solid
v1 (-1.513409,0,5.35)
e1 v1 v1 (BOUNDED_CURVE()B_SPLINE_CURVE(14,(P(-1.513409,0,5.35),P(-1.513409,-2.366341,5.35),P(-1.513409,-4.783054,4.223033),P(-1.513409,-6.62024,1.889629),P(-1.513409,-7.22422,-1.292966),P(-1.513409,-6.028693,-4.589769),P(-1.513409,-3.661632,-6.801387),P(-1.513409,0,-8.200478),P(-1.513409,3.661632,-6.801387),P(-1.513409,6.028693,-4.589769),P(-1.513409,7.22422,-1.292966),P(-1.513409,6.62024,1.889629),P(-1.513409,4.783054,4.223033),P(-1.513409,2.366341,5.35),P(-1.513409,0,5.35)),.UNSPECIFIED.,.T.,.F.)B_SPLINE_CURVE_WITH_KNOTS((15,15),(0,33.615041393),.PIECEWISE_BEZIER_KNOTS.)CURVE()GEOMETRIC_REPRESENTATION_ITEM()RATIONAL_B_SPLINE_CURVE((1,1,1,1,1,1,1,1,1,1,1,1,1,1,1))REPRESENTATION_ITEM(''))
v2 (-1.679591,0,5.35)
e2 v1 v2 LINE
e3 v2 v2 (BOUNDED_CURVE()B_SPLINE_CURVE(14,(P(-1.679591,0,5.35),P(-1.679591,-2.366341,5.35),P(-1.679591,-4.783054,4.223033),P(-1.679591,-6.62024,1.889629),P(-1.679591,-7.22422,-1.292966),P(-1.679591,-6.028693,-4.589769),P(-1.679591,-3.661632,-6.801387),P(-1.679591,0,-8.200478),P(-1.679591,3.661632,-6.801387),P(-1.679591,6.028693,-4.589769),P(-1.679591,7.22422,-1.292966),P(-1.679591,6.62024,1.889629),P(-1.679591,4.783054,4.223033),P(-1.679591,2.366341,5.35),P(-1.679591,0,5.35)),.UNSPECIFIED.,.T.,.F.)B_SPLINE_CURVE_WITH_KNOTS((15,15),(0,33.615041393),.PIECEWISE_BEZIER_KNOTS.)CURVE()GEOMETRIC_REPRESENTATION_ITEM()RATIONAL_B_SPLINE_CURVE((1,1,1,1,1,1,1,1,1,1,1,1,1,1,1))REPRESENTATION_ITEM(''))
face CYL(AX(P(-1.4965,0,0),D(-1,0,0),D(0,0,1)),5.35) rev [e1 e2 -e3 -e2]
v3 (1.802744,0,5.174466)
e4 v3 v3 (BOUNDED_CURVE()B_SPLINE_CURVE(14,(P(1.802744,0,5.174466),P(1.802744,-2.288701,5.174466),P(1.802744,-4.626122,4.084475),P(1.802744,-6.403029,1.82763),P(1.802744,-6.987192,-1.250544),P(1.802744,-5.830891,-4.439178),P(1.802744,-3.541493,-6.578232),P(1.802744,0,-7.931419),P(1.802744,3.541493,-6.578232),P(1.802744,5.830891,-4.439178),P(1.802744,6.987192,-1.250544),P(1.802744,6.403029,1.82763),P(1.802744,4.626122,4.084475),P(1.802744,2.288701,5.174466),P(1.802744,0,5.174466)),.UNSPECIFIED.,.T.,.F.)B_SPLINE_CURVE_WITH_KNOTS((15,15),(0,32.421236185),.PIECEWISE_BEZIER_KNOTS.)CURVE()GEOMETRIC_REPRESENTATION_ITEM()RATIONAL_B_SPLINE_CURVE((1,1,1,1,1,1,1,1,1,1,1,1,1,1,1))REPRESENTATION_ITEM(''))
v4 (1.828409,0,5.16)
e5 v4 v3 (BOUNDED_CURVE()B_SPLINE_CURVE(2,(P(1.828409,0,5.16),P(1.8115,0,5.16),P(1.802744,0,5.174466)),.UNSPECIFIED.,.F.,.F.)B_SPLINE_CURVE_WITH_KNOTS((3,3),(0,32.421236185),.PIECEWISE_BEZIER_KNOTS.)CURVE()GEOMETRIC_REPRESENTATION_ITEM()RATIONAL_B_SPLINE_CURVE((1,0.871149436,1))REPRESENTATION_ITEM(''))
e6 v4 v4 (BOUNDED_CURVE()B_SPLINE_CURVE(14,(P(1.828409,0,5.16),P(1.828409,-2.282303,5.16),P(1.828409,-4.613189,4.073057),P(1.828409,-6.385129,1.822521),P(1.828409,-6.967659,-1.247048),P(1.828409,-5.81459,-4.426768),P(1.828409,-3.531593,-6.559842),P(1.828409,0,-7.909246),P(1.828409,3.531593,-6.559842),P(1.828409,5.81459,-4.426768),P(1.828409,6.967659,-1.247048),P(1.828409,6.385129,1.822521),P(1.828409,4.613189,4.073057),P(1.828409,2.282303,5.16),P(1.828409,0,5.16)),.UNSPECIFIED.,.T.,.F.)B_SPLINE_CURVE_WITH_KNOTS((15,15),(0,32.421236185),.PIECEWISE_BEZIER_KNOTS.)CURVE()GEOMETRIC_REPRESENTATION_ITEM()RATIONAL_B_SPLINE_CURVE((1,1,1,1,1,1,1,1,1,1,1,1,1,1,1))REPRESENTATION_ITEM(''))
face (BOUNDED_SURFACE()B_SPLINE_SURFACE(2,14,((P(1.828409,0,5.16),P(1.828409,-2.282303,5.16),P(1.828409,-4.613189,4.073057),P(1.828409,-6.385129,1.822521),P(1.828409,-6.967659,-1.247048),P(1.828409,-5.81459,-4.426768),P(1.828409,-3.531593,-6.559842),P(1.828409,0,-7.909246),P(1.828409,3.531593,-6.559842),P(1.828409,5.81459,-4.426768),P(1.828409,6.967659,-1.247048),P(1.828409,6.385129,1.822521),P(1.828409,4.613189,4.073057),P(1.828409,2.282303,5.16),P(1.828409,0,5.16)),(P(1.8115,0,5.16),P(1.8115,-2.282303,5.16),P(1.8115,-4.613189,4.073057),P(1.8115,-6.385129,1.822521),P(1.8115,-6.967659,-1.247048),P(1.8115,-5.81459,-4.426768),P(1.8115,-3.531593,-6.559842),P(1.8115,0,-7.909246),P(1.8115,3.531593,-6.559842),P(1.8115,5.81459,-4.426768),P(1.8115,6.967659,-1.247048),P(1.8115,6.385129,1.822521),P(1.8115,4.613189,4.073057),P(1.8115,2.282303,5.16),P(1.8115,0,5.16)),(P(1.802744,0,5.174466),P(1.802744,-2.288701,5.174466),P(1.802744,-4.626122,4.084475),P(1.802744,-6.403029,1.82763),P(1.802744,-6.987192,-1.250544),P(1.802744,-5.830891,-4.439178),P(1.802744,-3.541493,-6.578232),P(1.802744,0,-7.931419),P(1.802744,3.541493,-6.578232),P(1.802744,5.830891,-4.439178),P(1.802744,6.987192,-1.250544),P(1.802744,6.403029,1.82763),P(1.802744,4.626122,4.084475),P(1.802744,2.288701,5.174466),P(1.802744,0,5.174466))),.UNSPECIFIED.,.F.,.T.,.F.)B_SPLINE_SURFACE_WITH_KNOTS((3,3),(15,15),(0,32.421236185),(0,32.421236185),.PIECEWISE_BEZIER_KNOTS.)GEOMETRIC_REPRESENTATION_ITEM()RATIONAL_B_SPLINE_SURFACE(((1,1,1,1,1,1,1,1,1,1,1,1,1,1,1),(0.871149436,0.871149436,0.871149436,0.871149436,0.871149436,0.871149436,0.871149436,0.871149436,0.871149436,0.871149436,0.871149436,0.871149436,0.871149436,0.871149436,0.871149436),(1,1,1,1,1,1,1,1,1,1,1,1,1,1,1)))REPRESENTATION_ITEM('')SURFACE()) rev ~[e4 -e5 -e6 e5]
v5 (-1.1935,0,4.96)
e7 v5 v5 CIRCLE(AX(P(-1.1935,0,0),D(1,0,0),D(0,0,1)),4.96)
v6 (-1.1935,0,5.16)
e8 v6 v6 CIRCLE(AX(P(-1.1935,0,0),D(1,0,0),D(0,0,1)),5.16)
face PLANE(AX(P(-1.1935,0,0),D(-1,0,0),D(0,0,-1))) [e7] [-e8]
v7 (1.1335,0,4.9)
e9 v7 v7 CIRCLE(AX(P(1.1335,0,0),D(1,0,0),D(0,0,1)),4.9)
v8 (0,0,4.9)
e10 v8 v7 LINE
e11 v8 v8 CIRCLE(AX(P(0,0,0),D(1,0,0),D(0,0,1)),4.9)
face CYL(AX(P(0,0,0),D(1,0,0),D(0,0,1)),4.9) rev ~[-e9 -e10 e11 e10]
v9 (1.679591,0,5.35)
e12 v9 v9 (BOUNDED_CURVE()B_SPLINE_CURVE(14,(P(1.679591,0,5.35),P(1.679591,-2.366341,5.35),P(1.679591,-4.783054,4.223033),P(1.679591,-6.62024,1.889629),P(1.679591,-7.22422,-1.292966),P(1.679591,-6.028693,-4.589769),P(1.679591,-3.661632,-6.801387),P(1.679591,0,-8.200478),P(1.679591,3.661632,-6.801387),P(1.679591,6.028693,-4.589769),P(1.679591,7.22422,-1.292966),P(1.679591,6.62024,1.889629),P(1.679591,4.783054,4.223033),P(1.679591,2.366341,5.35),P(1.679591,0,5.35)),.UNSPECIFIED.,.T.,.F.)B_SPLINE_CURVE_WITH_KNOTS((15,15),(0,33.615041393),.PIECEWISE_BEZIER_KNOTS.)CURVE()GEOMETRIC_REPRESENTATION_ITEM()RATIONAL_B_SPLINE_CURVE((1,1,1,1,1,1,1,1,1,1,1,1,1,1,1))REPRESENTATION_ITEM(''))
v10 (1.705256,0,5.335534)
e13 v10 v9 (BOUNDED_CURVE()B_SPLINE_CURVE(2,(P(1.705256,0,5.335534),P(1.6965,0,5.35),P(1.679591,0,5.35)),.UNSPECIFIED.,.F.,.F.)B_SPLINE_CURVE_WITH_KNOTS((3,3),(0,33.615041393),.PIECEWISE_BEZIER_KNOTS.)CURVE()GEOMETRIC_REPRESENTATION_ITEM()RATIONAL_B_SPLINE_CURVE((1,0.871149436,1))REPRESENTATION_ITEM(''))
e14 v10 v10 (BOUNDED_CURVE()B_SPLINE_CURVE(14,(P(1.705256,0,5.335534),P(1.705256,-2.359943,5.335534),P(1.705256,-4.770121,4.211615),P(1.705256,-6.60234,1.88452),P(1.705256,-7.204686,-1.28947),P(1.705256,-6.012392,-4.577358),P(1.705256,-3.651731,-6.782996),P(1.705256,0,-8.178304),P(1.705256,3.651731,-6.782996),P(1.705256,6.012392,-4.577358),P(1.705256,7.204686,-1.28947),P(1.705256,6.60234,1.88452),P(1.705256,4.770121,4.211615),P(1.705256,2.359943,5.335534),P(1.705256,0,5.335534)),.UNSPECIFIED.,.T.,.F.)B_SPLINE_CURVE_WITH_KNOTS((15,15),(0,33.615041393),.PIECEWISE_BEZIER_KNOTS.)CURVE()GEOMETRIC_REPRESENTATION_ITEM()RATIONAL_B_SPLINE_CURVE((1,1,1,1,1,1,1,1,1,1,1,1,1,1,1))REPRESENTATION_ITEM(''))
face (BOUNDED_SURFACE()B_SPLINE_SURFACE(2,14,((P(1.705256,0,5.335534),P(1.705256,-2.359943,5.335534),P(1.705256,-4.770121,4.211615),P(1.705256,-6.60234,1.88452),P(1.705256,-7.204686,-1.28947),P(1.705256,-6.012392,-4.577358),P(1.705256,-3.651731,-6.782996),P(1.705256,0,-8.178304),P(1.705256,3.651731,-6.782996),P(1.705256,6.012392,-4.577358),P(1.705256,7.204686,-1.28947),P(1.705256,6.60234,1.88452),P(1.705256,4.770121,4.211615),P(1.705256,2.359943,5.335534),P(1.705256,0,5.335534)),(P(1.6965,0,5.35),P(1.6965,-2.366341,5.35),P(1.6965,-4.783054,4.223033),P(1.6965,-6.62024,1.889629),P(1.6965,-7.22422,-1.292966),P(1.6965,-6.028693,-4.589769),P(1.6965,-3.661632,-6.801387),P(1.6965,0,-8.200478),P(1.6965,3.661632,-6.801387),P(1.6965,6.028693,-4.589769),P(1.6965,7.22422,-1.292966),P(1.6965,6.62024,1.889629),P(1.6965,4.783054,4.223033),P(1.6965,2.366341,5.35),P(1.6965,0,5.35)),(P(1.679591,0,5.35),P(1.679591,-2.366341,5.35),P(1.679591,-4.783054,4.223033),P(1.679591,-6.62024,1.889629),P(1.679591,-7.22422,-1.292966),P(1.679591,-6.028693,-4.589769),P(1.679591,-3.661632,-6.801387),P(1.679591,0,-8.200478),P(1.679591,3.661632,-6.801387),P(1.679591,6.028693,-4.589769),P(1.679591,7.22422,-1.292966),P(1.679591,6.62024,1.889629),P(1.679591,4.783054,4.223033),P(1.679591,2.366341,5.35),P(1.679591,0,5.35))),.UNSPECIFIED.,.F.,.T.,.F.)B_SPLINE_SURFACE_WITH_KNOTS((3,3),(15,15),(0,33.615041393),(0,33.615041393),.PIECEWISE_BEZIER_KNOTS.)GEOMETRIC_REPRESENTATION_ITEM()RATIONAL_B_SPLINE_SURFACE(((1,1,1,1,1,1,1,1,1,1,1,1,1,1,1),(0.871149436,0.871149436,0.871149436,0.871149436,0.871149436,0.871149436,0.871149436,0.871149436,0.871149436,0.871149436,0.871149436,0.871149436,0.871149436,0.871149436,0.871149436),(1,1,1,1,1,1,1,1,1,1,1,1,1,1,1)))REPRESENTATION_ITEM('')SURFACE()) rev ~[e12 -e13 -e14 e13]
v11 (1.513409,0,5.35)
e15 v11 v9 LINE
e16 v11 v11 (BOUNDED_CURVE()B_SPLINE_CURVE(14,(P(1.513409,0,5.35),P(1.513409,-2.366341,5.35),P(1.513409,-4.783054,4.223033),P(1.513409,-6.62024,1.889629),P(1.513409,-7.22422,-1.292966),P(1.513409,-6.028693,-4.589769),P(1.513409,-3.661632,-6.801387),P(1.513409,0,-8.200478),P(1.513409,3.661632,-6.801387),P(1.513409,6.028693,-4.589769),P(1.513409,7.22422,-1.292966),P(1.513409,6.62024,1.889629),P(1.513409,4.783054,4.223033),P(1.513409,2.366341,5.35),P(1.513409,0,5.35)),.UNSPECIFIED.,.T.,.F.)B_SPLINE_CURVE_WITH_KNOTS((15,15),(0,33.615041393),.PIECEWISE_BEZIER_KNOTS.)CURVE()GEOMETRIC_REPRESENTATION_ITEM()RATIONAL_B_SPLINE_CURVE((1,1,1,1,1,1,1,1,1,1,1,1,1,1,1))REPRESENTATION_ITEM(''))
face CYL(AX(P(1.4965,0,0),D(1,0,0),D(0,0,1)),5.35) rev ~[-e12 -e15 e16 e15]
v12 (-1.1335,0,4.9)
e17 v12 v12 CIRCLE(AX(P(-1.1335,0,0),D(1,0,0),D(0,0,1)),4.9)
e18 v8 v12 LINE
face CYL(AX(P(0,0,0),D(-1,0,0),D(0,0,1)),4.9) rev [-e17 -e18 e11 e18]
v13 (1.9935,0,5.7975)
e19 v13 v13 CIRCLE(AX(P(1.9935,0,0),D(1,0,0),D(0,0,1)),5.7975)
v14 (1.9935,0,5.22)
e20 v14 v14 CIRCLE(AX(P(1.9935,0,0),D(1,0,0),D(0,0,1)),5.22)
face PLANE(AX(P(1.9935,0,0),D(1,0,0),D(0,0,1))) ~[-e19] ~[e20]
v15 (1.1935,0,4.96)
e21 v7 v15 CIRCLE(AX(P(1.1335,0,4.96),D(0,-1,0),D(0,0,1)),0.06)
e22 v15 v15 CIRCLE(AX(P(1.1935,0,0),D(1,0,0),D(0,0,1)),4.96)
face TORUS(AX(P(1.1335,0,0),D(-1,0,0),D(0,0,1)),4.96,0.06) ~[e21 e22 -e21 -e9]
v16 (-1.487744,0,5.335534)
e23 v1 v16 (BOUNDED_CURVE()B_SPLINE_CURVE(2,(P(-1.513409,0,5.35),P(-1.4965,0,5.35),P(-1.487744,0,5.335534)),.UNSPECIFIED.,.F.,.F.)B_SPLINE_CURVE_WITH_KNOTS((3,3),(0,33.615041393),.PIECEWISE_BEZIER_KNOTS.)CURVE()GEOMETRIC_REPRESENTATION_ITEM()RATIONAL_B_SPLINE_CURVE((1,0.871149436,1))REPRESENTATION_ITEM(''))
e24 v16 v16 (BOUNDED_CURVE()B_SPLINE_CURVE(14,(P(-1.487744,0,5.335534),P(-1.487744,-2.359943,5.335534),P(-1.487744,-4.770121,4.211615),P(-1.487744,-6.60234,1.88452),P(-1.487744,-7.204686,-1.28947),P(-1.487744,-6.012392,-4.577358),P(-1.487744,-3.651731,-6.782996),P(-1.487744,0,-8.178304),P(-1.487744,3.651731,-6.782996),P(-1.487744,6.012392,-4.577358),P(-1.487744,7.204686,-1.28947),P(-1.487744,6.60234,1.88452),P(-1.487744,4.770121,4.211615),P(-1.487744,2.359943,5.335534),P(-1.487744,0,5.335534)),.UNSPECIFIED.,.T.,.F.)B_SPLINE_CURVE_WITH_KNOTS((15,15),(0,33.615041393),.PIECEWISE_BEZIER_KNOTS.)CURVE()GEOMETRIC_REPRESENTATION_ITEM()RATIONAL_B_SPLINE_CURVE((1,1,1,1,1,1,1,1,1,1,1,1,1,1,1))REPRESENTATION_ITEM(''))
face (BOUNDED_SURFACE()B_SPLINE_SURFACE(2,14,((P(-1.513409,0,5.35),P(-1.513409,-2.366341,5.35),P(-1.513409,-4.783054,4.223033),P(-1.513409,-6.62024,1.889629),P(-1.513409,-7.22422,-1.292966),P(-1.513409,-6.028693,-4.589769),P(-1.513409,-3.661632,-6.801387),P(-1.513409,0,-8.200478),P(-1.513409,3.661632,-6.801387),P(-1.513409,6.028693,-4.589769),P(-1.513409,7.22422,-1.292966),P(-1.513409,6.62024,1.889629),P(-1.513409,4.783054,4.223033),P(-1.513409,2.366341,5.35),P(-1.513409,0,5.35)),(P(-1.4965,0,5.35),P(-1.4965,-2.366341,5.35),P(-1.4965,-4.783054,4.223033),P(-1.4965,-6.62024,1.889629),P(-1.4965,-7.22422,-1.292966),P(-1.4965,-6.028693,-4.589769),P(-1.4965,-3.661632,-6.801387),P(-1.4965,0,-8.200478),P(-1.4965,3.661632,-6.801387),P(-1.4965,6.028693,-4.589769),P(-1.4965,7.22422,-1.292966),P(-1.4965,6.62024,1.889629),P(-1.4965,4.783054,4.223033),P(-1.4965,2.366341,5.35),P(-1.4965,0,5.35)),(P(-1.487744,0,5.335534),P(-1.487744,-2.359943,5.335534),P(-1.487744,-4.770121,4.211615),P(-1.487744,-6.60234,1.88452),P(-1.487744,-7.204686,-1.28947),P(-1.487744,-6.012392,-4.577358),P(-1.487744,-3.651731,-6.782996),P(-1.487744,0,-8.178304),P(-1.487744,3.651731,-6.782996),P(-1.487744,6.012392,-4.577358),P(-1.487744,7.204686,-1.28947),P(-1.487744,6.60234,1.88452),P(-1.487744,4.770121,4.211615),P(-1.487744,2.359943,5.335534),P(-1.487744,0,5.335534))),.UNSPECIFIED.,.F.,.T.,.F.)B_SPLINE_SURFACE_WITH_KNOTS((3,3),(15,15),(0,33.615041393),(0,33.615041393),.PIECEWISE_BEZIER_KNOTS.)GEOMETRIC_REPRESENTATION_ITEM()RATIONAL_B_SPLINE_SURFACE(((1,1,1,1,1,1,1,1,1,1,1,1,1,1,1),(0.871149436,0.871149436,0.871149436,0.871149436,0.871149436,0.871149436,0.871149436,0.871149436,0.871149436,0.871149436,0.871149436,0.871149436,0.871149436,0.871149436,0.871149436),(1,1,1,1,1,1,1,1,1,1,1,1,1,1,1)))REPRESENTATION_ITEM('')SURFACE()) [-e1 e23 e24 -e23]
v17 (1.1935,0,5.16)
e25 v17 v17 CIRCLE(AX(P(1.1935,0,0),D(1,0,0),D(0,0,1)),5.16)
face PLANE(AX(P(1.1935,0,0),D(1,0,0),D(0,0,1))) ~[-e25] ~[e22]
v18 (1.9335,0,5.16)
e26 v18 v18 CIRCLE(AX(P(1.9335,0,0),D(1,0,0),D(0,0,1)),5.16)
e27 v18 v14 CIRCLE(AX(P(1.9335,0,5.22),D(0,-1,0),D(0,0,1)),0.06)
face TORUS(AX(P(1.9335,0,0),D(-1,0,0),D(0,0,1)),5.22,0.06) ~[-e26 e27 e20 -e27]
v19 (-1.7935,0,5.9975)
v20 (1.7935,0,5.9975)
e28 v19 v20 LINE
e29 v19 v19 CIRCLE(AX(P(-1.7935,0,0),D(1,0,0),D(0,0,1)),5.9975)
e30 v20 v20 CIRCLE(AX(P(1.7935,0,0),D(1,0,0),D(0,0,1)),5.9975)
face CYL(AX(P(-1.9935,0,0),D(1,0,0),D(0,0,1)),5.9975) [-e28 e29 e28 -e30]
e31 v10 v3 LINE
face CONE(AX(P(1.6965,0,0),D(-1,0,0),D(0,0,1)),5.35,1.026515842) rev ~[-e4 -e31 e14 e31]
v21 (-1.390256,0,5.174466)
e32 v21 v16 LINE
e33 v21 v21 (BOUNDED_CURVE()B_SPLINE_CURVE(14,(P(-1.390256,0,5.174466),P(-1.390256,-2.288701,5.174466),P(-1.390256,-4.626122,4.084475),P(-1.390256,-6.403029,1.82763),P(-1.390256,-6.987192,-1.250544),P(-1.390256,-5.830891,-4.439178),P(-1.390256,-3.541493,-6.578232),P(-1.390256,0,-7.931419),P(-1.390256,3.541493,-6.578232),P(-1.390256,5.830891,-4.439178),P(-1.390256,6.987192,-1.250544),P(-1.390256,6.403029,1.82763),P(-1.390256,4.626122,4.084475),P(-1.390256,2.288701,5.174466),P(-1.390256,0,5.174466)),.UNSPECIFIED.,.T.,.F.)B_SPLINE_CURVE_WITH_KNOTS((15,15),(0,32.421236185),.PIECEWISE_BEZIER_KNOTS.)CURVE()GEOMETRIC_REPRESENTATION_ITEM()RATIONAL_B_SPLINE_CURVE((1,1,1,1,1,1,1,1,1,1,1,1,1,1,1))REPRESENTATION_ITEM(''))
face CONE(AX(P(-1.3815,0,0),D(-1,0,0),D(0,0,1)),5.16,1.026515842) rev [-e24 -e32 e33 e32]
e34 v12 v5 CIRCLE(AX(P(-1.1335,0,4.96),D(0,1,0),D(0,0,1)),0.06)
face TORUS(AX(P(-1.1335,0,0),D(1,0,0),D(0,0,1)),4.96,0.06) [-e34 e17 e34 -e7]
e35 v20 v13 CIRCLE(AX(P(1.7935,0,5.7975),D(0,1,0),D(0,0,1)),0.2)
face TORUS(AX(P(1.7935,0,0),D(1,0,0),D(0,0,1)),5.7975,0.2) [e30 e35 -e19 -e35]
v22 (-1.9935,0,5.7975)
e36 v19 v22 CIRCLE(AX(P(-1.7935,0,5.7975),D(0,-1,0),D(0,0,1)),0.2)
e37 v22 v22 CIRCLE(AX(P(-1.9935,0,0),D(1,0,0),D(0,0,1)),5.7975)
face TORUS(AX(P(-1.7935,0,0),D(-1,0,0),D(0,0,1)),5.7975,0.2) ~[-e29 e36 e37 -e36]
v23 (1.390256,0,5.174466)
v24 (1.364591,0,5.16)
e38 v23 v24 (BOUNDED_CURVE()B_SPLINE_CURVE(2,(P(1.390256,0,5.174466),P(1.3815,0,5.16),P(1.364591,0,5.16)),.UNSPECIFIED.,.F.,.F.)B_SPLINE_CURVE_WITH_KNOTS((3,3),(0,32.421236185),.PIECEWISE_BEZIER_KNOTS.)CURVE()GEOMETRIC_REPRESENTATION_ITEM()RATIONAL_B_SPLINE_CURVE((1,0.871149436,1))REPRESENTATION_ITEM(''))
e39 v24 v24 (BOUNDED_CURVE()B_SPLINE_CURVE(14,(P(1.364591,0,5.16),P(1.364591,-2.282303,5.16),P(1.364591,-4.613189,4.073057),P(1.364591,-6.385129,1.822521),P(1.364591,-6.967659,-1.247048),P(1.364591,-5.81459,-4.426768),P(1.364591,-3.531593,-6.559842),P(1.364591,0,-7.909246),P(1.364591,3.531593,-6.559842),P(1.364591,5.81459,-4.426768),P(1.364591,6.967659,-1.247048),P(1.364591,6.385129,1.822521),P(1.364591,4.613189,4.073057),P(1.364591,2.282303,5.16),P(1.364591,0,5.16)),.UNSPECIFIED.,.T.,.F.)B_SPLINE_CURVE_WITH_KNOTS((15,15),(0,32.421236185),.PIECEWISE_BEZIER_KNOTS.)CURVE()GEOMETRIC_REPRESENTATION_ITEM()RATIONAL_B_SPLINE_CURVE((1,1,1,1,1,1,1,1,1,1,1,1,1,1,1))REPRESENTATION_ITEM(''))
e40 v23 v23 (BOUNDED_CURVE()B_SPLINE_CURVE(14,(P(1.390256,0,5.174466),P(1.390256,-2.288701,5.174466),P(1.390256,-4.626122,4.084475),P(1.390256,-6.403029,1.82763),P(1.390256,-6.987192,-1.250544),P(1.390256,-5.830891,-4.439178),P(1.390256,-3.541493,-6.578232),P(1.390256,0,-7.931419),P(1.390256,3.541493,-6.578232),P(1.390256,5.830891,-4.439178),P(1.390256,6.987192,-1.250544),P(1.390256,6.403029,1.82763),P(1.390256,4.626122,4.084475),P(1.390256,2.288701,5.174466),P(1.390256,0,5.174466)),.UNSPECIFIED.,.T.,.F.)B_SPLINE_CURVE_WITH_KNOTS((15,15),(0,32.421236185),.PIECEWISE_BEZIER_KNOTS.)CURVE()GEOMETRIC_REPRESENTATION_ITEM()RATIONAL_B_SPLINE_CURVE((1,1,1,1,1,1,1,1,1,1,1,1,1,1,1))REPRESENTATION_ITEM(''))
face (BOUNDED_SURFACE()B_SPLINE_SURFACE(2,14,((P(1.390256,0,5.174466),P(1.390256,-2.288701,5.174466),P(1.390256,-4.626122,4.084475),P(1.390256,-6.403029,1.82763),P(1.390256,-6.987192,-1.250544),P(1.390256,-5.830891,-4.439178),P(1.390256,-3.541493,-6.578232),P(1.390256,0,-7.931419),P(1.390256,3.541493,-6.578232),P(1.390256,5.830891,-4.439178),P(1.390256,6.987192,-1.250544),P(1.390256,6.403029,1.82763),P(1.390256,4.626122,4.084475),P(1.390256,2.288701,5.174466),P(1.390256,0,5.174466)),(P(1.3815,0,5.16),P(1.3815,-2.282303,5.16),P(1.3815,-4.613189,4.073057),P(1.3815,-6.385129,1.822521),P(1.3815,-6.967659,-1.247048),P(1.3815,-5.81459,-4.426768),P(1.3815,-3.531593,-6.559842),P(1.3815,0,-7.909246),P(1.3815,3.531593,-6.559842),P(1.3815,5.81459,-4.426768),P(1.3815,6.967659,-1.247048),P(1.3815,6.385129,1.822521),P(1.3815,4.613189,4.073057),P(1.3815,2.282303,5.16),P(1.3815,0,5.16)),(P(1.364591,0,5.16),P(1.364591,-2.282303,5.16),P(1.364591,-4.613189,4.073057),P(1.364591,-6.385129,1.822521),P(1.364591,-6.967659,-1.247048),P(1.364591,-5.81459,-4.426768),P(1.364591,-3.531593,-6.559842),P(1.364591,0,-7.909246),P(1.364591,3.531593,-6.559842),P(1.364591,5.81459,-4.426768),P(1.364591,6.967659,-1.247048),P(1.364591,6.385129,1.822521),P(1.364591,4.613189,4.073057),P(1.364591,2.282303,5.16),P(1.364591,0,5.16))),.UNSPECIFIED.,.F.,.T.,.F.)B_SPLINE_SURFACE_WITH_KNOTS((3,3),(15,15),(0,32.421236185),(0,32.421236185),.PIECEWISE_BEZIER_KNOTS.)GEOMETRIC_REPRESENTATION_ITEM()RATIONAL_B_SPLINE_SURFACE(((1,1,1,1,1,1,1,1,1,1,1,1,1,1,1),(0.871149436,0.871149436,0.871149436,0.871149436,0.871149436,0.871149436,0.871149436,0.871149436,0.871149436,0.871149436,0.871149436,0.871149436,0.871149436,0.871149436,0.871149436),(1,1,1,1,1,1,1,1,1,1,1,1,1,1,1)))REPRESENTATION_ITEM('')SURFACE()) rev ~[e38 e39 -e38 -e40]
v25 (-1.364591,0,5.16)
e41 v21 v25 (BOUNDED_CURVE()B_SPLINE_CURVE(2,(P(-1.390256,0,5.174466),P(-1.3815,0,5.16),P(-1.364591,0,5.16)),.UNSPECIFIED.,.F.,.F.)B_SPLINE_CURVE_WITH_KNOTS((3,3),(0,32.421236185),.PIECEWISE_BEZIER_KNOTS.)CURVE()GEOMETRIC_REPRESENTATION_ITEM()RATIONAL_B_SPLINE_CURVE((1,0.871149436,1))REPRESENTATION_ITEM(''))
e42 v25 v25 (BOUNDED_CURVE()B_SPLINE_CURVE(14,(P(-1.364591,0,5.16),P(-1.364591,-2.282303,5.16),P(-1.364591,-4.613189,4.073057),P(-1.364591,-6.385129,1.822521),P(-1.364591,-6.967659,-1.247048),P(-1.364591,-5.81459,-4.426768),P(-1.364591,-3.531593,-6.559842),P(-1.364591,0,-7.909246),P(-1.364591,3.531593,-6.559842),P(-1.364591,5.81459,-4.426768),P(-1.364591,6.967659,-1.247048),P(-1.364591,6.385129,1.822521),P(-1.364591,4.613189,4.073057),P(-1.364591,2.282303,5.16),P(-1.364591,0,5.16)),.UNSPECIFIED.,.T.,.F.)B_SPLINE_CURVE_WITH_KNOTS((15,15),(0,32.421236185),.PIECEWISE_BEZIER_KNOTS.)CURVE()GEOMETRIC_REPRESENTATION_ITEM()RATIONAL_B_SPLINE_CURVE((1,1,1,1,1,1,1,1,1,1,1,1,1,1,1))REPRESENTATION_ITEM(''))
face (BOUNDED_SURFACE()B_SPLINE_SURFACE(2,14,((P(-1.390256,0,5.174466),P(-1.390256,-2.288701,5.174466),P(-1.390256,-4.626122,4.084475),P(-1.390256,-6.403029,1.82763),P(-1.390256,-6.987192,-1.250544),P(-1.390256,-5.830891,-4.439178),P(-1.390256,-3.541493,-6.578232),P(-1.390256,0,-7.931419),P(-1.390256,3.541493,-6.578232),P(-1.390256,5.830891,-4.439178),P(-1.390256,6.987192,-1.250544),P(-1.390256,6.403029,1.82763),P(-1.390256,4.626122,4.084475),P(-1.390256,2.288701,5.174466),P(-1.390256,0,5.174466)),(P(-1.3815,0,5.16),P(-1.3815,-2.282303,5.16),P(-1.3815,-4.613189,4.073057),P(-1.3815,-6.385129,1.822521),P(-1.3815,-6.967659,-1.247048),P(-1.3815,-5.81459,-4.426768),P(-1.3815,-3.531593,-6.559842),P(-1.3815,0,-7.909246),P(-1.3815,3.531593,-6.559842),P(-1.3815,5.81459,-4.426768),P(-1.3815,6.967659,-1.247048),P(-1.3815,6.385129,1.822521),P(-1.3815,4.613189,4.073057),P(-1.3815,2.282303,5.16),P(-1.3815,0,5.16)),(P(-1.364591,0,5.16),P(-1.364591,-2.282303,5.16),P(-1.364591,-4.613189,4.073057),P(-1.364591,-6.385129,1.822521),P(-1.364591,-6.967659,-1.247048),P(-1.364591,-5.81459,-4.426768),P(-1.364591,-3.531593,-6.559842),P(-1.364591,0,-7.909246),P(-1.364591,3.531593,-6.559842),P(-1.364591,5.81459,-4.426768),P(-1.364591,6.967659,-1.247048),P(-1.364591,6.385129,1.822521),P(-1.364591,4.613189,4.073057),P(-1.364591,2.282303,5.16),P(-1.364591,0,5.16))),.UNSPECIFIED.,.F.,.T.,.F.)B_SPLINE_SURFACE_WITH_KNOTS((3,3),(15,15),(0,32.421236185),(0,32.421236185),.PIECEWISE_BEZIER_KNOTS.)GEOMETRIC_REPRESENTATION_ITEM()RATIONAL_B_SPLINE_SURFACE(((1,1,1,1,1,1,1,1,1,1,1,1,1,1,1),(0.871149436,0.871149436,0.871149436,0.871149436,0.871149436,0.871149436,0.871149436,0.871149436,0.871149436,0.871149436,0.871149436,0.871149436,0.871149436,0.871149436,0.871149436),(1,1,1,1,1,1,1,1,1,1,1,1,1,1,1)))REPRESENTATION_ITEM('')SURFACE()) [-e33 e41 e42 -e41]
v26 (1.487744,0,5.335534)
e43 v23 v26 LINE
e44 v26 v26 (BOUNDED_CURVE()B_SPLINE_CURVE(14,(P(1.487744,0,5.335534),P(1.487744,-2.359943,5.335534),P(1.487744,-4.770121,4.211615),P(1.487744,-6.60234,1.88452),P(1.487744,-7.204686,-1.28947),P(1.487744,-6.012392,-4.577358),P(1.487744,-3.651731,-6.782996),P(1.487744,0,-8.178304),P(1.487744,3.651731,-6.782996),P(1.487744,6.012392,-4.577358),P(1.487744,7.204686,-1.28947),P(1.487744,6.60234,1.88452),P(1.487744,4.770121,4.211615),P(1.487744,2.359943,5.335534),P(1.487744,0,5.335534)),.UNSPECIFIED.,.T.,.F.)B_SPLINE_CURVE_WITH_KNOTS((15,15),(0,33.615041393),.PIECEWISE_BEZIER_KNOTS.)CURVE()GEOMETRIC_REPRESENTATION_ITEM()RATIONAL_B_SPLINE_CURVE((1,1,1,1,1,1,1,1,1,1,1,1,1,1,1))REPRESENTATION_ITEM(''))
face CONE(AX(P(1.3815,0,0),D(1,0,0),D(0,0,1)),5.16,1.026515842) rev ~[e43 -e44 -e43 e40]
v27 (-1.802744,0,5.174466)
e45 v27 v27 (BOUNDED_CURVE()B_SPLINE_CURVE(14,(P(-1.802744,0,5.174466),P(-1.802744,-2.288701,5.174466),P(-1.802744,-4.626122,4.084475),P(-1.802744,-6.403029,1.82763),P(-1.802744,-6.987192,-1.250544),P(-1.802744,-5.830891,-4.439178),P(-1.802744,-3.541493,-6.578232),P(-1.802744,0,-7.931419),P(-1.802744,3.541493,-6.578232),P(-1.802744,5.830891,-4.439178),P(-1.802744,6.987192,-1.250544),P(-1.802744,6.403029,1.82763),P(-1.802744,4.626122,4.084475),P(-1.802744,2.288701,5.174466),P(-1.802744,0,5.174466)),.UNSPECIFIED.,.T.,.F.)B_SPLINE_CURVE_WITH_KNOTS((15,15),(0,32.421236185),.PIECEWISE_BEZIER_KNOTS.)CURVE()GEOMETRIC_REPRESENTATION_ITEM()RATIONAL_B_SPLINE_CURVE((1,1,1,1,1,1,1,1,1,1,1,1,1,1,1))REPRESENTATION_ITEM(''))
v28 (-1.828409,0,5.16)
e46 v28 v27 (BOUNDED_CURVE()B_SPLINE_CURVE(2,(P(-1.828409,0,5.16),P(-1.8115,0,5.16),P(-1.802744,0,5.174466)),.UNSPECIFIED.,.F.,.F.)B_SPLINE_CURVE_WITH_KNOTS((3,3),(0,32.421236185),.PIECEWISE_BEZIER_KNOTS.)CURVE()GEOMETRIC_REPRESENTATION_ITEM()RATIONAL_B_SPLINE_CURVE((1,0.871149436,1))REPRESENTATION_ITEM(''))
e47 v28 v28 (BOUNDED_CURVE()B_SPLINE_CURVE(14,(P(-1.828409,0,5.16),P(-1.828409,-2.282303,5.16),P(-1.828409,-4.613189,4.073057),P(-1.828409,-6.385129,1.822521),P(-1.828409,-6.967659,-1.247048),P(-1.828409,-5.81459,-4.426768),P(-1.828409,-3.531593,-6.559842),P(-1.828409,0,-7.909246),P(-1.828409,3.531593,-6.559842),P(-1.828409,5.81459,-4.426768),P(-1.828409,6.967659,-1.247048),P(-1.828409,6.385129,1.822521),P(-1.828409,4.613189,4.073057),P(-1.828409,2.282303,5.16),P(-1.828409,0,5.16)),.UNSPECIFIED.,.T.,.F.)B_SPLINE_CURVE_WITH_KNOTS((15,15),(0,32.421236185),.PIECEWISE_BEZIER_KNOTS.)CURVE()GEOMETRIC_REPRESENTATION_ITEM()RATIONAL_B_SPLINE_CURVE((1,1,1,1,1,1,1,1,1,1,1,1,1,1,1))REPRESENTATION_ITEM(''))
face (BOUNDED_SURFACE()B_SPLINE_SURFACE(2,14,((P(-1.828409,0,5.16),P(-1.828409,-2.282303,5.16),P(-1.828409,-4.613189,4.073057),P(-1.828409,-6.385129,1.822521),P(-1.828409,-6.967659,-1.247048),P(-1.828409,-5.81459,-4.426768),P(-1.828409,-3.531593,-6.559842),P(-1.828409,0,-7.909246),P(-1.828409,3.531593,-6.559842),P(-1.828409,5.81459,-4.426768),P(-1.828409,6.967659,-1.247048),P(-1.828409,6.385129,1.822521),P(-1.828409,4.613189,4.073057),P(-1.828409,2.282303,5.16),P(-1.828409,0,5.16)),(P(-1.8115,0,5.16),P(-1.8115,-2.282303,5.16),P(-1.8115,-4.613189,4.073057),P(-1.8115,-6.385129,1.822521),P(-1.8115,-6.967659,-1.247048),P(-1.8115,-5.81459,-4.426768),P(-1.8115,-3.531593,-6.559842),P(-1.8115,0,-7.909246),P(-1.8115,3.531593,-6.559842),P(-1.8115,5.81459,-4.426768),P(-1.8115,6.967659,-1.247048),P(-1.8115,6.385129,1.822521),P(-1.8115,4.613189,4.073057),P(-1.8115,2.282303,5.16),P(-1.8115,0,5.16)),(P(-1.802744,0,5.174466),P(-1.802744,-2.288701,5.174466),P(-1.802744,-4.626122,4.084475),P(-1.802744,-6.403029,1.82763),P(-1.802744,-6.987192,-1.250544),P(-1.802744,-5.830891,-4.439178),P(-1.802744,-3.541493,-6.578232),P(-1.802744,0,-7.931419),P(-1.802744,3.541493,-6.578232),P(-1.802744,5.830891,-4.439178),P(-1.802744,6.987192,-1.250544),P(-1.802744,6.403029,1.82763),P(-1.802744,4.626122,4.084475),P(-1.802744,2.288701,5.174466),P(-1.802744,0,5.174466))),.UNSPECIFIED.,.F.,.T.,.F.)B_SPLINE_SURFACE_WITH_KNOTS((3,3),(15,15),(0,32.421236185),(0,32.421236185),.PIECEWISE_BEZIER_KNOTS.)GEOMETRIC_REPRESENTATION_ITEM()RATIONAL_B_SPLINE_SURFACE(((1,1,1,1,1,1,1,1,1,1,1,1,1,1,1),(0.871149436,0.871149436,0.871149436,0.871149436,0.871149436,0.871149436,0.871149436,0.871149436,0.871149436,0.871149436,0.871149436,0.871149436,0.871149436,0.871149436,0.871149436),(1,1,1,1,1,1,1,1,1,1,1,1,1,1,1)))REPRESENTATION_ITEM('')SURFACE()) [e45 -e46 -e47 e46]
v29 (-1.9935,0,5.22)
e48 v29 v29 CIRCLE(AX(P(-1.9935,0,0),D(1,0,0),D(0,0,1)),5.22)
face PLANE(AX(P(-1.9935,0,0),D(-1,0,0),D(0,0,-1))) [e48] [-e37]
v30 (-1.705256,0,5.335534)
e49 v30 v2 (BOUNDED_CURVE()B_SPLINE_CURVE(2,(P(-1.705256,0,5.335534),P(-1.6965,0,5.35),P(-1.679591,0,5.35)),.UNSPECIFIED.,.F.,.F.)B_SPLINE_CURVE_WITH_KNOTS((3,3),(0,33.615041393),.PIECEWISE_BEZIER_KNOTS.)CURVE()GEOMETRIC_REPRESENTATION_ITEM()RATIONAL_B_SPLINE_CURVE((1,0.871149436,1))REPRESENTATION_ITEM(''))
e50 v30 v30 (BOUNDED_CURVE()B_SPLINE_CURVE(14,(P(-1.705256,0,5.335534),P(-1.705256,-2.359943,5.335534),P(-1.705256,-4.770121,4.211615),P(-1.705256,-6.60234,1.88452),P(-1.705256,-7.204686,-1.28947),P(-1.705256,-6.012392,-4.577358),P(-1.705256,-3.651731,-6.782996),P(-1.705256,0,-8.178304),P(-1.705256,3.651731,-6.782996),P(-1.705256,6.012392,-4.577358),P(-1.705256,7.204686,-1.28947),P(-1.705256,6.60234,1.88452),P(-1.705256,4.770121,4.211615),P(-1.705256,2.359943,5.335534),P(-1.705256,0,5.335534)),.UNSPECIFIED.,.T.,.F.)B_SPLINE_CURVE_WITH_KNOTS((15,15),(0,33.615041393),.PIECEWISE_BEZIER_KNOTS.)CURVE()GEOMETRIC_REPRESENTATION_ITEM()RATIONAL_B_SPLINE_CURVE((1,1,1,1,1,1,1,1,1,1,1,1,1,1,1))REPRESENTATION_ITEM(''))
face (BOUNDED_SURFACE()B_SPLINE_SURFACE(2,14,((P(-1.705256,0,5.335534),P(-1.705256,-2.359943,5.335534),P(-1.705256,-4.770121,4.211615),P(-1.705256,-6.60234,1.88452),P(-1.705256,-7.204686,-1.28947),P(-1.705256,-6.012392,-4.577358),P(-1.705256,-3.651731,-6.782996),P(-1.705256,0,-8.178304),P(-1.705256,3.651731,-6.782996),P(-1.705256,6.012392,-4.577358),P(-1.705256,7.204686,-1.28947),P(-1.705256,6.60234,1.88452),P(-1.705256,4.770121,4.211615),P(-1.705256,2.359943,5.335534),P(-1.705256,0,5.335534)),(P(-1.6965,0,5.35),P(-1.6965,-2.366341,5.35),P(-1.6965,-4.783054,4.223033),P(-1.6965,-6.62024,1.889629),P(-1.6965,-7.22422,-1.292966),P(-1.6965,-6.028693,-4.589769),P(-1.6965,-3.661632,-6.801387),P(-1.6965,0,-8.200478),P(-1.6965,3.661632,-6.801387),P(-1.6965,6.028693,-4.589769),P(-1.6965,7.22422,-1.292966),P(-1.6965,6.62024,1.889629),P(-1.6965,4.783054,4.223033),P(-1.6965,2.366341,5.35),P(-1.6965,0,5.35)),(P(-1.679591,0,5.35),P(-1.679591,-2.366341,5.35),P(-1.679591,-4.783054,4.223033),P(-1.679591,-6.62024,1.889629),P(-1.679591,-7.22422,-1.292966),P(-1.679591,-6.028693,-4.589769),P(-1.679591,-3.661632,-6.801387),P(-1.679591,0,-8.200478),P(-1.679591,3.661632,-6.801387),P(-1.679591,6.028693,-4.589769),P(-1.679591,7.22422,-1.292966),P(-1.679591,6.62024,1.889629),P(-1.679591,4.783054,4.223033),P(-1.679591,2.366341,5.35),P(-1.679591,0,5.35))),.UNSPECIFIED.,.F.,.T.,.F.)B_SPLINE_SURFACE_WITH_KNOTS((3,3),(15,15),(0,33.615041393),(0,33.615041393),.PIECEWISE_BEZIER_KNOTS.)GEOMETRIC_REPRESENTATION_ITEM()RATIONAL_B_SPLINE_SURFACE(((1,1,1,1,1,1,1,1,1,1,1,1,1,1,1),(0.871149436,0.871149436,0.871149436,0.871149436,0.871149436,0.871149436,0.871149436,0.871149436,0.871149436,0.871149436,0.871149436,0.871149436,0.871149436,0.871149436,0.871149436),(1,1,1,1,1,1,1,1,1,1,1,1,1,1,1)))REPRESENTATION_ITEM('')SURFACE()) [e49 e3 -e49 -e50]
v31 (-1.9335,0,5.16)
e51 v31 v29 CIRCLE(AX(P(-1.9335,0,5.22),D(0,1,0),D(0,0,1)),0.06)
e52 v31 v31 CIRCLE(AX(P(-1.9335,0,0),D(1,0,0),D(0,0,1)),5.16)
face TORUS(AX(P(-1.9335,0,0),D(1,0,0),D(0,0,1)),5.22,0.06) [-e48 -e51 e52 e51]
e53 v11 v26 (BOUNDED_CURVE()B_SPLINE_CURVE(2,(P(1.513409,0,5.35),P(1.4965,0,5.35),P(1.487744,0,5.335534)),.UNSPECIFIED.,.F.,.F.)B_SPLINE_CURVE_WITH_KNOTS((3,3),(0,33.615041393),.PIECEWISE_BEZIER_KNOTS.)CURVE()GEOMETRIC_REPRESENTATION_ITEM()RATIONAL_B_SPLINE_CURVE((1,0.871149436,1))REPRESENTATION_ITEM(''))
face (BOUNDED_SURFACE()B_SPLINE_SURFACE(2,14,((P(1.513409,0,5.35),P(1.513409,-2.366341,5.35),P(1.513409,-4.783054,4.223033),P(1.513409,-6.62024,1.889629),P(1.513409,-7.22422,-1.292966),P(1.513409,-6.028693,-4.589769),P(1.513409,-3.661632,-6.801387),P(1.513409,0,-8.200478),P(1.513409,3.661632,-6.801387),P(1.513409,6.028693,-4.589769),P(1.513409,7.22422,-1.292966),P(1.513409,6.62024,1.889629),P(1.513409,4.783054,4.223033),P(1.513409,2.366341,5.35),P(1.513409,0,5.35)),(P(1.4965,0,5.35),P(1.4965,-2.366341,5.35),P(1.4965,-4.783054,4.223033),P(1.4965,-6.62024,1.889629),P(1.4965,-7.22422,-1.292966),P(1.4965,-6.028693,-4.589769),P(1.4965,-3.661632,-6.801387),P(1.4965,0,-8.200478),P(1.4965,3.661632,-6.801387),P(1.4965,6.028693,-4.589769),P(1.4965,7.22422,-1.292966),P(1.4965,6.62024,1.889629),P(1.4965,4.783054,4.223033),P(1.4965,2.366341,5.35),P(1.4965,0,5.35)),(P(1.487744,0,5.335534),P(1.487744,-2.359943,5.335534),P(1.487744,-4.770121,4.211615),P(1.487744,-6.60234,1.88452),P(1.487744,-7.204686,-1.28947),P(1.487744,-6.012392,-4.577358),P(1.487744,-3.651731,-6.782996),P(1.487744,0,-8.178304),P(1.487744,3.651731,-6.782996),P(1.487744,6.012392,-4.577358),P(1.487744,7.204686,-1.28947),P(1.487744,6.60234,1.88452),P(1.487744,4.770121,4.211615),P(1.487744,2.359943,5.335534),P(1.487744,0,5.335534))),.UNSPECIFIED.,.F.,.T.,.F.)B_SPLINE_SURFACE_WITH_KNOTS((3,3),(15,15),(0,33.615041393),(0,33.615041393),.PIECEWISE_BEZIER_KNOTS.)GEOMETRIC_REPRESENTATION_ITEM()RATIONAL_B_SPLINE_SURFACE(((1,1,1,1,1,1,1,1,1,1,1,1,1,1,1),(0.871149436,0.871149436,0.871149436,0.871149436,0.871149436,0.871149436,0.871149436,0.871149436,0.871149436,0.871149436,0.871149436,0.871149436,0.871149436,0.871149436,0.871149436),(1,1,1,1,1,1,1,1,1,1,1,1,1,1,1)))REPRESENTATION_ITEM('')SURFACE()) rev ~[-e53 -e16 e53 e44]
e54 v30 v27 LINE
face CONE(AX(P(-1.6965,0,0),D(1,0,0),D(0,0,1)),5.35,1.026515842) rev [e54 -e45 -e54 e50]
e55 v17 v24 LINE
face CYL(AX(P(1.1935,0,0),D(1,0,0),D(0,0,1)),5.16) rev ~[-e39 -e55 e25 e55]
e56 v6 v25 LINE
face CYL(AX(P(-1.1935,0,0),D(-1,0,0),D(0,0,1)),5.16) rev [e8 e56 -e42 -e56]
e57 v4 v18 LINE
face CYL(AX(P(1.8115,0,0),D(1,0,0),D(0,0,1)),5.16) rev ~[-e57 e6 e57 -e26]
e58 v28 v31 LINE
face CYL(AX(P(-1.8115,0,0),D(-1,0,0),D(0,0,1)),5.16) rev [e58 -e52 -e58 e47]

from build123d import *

# Parameters (mm, degrees)
F2_R = 0.06
F3_R = 0.03
F4_R = 0.06
F5_R = 0.2


with BuildPart() as f1:
    # F0 (on Front) → F1 (revolve)
    with BuildSketch(Plane.XZ):
        Polygon((1.9935, 5.9975), (0, 5.9975), (0, 4.9), (1.1935, 4.9), (1.1935, 5.16), (1.3815, 5.16), (1.4965, 5.35), (1.5965, 5.35), (1.6965, 5.35), (1.8115, 5.16), (1.9935, 5.16), align=None)
    revolve(axis=Axis((0.99675, 0, 0), (1, 0, 0)))

    # F2
    f2_edges = [f1.edges().sort_by_distance(p)[0] for p in [
        (1.9935, 0, -5.16),
    ]]
    fillet(f2_edges, radius=F2_R)

    # F3
    f3_edges = [f1.edges().sort_by_distance(p)[0] for p in [
        (1.3815, 0, -5.16),
        (1.4965, 0, -5.35),
        (1.6965, 0, -5.35),
        (1.8115, 0, -5.16),
    ]]
    fillet(f3_edges, radius=F3_R)

    # F4
    f4_edges = [f1.edges().sort_by_distance(p)[0] for p in [
        (1.1935, 0, -4.9),
    ]]
    fillet(f4_edges, radius=F4_R)

    # F5
    f5_edges = [f1.edges().sort_by_distance(p)[0] for p in [
        (1.9935, 0, -5.9975),
    ]]
    fillet(f5_edges, radius=F5_R)

    # F6: F1 across plane


with BuildPart() as f1_1:
    add(f1.part)
    add(f1.part.mirror(Plane.YZ))


solid = f1_1.part
